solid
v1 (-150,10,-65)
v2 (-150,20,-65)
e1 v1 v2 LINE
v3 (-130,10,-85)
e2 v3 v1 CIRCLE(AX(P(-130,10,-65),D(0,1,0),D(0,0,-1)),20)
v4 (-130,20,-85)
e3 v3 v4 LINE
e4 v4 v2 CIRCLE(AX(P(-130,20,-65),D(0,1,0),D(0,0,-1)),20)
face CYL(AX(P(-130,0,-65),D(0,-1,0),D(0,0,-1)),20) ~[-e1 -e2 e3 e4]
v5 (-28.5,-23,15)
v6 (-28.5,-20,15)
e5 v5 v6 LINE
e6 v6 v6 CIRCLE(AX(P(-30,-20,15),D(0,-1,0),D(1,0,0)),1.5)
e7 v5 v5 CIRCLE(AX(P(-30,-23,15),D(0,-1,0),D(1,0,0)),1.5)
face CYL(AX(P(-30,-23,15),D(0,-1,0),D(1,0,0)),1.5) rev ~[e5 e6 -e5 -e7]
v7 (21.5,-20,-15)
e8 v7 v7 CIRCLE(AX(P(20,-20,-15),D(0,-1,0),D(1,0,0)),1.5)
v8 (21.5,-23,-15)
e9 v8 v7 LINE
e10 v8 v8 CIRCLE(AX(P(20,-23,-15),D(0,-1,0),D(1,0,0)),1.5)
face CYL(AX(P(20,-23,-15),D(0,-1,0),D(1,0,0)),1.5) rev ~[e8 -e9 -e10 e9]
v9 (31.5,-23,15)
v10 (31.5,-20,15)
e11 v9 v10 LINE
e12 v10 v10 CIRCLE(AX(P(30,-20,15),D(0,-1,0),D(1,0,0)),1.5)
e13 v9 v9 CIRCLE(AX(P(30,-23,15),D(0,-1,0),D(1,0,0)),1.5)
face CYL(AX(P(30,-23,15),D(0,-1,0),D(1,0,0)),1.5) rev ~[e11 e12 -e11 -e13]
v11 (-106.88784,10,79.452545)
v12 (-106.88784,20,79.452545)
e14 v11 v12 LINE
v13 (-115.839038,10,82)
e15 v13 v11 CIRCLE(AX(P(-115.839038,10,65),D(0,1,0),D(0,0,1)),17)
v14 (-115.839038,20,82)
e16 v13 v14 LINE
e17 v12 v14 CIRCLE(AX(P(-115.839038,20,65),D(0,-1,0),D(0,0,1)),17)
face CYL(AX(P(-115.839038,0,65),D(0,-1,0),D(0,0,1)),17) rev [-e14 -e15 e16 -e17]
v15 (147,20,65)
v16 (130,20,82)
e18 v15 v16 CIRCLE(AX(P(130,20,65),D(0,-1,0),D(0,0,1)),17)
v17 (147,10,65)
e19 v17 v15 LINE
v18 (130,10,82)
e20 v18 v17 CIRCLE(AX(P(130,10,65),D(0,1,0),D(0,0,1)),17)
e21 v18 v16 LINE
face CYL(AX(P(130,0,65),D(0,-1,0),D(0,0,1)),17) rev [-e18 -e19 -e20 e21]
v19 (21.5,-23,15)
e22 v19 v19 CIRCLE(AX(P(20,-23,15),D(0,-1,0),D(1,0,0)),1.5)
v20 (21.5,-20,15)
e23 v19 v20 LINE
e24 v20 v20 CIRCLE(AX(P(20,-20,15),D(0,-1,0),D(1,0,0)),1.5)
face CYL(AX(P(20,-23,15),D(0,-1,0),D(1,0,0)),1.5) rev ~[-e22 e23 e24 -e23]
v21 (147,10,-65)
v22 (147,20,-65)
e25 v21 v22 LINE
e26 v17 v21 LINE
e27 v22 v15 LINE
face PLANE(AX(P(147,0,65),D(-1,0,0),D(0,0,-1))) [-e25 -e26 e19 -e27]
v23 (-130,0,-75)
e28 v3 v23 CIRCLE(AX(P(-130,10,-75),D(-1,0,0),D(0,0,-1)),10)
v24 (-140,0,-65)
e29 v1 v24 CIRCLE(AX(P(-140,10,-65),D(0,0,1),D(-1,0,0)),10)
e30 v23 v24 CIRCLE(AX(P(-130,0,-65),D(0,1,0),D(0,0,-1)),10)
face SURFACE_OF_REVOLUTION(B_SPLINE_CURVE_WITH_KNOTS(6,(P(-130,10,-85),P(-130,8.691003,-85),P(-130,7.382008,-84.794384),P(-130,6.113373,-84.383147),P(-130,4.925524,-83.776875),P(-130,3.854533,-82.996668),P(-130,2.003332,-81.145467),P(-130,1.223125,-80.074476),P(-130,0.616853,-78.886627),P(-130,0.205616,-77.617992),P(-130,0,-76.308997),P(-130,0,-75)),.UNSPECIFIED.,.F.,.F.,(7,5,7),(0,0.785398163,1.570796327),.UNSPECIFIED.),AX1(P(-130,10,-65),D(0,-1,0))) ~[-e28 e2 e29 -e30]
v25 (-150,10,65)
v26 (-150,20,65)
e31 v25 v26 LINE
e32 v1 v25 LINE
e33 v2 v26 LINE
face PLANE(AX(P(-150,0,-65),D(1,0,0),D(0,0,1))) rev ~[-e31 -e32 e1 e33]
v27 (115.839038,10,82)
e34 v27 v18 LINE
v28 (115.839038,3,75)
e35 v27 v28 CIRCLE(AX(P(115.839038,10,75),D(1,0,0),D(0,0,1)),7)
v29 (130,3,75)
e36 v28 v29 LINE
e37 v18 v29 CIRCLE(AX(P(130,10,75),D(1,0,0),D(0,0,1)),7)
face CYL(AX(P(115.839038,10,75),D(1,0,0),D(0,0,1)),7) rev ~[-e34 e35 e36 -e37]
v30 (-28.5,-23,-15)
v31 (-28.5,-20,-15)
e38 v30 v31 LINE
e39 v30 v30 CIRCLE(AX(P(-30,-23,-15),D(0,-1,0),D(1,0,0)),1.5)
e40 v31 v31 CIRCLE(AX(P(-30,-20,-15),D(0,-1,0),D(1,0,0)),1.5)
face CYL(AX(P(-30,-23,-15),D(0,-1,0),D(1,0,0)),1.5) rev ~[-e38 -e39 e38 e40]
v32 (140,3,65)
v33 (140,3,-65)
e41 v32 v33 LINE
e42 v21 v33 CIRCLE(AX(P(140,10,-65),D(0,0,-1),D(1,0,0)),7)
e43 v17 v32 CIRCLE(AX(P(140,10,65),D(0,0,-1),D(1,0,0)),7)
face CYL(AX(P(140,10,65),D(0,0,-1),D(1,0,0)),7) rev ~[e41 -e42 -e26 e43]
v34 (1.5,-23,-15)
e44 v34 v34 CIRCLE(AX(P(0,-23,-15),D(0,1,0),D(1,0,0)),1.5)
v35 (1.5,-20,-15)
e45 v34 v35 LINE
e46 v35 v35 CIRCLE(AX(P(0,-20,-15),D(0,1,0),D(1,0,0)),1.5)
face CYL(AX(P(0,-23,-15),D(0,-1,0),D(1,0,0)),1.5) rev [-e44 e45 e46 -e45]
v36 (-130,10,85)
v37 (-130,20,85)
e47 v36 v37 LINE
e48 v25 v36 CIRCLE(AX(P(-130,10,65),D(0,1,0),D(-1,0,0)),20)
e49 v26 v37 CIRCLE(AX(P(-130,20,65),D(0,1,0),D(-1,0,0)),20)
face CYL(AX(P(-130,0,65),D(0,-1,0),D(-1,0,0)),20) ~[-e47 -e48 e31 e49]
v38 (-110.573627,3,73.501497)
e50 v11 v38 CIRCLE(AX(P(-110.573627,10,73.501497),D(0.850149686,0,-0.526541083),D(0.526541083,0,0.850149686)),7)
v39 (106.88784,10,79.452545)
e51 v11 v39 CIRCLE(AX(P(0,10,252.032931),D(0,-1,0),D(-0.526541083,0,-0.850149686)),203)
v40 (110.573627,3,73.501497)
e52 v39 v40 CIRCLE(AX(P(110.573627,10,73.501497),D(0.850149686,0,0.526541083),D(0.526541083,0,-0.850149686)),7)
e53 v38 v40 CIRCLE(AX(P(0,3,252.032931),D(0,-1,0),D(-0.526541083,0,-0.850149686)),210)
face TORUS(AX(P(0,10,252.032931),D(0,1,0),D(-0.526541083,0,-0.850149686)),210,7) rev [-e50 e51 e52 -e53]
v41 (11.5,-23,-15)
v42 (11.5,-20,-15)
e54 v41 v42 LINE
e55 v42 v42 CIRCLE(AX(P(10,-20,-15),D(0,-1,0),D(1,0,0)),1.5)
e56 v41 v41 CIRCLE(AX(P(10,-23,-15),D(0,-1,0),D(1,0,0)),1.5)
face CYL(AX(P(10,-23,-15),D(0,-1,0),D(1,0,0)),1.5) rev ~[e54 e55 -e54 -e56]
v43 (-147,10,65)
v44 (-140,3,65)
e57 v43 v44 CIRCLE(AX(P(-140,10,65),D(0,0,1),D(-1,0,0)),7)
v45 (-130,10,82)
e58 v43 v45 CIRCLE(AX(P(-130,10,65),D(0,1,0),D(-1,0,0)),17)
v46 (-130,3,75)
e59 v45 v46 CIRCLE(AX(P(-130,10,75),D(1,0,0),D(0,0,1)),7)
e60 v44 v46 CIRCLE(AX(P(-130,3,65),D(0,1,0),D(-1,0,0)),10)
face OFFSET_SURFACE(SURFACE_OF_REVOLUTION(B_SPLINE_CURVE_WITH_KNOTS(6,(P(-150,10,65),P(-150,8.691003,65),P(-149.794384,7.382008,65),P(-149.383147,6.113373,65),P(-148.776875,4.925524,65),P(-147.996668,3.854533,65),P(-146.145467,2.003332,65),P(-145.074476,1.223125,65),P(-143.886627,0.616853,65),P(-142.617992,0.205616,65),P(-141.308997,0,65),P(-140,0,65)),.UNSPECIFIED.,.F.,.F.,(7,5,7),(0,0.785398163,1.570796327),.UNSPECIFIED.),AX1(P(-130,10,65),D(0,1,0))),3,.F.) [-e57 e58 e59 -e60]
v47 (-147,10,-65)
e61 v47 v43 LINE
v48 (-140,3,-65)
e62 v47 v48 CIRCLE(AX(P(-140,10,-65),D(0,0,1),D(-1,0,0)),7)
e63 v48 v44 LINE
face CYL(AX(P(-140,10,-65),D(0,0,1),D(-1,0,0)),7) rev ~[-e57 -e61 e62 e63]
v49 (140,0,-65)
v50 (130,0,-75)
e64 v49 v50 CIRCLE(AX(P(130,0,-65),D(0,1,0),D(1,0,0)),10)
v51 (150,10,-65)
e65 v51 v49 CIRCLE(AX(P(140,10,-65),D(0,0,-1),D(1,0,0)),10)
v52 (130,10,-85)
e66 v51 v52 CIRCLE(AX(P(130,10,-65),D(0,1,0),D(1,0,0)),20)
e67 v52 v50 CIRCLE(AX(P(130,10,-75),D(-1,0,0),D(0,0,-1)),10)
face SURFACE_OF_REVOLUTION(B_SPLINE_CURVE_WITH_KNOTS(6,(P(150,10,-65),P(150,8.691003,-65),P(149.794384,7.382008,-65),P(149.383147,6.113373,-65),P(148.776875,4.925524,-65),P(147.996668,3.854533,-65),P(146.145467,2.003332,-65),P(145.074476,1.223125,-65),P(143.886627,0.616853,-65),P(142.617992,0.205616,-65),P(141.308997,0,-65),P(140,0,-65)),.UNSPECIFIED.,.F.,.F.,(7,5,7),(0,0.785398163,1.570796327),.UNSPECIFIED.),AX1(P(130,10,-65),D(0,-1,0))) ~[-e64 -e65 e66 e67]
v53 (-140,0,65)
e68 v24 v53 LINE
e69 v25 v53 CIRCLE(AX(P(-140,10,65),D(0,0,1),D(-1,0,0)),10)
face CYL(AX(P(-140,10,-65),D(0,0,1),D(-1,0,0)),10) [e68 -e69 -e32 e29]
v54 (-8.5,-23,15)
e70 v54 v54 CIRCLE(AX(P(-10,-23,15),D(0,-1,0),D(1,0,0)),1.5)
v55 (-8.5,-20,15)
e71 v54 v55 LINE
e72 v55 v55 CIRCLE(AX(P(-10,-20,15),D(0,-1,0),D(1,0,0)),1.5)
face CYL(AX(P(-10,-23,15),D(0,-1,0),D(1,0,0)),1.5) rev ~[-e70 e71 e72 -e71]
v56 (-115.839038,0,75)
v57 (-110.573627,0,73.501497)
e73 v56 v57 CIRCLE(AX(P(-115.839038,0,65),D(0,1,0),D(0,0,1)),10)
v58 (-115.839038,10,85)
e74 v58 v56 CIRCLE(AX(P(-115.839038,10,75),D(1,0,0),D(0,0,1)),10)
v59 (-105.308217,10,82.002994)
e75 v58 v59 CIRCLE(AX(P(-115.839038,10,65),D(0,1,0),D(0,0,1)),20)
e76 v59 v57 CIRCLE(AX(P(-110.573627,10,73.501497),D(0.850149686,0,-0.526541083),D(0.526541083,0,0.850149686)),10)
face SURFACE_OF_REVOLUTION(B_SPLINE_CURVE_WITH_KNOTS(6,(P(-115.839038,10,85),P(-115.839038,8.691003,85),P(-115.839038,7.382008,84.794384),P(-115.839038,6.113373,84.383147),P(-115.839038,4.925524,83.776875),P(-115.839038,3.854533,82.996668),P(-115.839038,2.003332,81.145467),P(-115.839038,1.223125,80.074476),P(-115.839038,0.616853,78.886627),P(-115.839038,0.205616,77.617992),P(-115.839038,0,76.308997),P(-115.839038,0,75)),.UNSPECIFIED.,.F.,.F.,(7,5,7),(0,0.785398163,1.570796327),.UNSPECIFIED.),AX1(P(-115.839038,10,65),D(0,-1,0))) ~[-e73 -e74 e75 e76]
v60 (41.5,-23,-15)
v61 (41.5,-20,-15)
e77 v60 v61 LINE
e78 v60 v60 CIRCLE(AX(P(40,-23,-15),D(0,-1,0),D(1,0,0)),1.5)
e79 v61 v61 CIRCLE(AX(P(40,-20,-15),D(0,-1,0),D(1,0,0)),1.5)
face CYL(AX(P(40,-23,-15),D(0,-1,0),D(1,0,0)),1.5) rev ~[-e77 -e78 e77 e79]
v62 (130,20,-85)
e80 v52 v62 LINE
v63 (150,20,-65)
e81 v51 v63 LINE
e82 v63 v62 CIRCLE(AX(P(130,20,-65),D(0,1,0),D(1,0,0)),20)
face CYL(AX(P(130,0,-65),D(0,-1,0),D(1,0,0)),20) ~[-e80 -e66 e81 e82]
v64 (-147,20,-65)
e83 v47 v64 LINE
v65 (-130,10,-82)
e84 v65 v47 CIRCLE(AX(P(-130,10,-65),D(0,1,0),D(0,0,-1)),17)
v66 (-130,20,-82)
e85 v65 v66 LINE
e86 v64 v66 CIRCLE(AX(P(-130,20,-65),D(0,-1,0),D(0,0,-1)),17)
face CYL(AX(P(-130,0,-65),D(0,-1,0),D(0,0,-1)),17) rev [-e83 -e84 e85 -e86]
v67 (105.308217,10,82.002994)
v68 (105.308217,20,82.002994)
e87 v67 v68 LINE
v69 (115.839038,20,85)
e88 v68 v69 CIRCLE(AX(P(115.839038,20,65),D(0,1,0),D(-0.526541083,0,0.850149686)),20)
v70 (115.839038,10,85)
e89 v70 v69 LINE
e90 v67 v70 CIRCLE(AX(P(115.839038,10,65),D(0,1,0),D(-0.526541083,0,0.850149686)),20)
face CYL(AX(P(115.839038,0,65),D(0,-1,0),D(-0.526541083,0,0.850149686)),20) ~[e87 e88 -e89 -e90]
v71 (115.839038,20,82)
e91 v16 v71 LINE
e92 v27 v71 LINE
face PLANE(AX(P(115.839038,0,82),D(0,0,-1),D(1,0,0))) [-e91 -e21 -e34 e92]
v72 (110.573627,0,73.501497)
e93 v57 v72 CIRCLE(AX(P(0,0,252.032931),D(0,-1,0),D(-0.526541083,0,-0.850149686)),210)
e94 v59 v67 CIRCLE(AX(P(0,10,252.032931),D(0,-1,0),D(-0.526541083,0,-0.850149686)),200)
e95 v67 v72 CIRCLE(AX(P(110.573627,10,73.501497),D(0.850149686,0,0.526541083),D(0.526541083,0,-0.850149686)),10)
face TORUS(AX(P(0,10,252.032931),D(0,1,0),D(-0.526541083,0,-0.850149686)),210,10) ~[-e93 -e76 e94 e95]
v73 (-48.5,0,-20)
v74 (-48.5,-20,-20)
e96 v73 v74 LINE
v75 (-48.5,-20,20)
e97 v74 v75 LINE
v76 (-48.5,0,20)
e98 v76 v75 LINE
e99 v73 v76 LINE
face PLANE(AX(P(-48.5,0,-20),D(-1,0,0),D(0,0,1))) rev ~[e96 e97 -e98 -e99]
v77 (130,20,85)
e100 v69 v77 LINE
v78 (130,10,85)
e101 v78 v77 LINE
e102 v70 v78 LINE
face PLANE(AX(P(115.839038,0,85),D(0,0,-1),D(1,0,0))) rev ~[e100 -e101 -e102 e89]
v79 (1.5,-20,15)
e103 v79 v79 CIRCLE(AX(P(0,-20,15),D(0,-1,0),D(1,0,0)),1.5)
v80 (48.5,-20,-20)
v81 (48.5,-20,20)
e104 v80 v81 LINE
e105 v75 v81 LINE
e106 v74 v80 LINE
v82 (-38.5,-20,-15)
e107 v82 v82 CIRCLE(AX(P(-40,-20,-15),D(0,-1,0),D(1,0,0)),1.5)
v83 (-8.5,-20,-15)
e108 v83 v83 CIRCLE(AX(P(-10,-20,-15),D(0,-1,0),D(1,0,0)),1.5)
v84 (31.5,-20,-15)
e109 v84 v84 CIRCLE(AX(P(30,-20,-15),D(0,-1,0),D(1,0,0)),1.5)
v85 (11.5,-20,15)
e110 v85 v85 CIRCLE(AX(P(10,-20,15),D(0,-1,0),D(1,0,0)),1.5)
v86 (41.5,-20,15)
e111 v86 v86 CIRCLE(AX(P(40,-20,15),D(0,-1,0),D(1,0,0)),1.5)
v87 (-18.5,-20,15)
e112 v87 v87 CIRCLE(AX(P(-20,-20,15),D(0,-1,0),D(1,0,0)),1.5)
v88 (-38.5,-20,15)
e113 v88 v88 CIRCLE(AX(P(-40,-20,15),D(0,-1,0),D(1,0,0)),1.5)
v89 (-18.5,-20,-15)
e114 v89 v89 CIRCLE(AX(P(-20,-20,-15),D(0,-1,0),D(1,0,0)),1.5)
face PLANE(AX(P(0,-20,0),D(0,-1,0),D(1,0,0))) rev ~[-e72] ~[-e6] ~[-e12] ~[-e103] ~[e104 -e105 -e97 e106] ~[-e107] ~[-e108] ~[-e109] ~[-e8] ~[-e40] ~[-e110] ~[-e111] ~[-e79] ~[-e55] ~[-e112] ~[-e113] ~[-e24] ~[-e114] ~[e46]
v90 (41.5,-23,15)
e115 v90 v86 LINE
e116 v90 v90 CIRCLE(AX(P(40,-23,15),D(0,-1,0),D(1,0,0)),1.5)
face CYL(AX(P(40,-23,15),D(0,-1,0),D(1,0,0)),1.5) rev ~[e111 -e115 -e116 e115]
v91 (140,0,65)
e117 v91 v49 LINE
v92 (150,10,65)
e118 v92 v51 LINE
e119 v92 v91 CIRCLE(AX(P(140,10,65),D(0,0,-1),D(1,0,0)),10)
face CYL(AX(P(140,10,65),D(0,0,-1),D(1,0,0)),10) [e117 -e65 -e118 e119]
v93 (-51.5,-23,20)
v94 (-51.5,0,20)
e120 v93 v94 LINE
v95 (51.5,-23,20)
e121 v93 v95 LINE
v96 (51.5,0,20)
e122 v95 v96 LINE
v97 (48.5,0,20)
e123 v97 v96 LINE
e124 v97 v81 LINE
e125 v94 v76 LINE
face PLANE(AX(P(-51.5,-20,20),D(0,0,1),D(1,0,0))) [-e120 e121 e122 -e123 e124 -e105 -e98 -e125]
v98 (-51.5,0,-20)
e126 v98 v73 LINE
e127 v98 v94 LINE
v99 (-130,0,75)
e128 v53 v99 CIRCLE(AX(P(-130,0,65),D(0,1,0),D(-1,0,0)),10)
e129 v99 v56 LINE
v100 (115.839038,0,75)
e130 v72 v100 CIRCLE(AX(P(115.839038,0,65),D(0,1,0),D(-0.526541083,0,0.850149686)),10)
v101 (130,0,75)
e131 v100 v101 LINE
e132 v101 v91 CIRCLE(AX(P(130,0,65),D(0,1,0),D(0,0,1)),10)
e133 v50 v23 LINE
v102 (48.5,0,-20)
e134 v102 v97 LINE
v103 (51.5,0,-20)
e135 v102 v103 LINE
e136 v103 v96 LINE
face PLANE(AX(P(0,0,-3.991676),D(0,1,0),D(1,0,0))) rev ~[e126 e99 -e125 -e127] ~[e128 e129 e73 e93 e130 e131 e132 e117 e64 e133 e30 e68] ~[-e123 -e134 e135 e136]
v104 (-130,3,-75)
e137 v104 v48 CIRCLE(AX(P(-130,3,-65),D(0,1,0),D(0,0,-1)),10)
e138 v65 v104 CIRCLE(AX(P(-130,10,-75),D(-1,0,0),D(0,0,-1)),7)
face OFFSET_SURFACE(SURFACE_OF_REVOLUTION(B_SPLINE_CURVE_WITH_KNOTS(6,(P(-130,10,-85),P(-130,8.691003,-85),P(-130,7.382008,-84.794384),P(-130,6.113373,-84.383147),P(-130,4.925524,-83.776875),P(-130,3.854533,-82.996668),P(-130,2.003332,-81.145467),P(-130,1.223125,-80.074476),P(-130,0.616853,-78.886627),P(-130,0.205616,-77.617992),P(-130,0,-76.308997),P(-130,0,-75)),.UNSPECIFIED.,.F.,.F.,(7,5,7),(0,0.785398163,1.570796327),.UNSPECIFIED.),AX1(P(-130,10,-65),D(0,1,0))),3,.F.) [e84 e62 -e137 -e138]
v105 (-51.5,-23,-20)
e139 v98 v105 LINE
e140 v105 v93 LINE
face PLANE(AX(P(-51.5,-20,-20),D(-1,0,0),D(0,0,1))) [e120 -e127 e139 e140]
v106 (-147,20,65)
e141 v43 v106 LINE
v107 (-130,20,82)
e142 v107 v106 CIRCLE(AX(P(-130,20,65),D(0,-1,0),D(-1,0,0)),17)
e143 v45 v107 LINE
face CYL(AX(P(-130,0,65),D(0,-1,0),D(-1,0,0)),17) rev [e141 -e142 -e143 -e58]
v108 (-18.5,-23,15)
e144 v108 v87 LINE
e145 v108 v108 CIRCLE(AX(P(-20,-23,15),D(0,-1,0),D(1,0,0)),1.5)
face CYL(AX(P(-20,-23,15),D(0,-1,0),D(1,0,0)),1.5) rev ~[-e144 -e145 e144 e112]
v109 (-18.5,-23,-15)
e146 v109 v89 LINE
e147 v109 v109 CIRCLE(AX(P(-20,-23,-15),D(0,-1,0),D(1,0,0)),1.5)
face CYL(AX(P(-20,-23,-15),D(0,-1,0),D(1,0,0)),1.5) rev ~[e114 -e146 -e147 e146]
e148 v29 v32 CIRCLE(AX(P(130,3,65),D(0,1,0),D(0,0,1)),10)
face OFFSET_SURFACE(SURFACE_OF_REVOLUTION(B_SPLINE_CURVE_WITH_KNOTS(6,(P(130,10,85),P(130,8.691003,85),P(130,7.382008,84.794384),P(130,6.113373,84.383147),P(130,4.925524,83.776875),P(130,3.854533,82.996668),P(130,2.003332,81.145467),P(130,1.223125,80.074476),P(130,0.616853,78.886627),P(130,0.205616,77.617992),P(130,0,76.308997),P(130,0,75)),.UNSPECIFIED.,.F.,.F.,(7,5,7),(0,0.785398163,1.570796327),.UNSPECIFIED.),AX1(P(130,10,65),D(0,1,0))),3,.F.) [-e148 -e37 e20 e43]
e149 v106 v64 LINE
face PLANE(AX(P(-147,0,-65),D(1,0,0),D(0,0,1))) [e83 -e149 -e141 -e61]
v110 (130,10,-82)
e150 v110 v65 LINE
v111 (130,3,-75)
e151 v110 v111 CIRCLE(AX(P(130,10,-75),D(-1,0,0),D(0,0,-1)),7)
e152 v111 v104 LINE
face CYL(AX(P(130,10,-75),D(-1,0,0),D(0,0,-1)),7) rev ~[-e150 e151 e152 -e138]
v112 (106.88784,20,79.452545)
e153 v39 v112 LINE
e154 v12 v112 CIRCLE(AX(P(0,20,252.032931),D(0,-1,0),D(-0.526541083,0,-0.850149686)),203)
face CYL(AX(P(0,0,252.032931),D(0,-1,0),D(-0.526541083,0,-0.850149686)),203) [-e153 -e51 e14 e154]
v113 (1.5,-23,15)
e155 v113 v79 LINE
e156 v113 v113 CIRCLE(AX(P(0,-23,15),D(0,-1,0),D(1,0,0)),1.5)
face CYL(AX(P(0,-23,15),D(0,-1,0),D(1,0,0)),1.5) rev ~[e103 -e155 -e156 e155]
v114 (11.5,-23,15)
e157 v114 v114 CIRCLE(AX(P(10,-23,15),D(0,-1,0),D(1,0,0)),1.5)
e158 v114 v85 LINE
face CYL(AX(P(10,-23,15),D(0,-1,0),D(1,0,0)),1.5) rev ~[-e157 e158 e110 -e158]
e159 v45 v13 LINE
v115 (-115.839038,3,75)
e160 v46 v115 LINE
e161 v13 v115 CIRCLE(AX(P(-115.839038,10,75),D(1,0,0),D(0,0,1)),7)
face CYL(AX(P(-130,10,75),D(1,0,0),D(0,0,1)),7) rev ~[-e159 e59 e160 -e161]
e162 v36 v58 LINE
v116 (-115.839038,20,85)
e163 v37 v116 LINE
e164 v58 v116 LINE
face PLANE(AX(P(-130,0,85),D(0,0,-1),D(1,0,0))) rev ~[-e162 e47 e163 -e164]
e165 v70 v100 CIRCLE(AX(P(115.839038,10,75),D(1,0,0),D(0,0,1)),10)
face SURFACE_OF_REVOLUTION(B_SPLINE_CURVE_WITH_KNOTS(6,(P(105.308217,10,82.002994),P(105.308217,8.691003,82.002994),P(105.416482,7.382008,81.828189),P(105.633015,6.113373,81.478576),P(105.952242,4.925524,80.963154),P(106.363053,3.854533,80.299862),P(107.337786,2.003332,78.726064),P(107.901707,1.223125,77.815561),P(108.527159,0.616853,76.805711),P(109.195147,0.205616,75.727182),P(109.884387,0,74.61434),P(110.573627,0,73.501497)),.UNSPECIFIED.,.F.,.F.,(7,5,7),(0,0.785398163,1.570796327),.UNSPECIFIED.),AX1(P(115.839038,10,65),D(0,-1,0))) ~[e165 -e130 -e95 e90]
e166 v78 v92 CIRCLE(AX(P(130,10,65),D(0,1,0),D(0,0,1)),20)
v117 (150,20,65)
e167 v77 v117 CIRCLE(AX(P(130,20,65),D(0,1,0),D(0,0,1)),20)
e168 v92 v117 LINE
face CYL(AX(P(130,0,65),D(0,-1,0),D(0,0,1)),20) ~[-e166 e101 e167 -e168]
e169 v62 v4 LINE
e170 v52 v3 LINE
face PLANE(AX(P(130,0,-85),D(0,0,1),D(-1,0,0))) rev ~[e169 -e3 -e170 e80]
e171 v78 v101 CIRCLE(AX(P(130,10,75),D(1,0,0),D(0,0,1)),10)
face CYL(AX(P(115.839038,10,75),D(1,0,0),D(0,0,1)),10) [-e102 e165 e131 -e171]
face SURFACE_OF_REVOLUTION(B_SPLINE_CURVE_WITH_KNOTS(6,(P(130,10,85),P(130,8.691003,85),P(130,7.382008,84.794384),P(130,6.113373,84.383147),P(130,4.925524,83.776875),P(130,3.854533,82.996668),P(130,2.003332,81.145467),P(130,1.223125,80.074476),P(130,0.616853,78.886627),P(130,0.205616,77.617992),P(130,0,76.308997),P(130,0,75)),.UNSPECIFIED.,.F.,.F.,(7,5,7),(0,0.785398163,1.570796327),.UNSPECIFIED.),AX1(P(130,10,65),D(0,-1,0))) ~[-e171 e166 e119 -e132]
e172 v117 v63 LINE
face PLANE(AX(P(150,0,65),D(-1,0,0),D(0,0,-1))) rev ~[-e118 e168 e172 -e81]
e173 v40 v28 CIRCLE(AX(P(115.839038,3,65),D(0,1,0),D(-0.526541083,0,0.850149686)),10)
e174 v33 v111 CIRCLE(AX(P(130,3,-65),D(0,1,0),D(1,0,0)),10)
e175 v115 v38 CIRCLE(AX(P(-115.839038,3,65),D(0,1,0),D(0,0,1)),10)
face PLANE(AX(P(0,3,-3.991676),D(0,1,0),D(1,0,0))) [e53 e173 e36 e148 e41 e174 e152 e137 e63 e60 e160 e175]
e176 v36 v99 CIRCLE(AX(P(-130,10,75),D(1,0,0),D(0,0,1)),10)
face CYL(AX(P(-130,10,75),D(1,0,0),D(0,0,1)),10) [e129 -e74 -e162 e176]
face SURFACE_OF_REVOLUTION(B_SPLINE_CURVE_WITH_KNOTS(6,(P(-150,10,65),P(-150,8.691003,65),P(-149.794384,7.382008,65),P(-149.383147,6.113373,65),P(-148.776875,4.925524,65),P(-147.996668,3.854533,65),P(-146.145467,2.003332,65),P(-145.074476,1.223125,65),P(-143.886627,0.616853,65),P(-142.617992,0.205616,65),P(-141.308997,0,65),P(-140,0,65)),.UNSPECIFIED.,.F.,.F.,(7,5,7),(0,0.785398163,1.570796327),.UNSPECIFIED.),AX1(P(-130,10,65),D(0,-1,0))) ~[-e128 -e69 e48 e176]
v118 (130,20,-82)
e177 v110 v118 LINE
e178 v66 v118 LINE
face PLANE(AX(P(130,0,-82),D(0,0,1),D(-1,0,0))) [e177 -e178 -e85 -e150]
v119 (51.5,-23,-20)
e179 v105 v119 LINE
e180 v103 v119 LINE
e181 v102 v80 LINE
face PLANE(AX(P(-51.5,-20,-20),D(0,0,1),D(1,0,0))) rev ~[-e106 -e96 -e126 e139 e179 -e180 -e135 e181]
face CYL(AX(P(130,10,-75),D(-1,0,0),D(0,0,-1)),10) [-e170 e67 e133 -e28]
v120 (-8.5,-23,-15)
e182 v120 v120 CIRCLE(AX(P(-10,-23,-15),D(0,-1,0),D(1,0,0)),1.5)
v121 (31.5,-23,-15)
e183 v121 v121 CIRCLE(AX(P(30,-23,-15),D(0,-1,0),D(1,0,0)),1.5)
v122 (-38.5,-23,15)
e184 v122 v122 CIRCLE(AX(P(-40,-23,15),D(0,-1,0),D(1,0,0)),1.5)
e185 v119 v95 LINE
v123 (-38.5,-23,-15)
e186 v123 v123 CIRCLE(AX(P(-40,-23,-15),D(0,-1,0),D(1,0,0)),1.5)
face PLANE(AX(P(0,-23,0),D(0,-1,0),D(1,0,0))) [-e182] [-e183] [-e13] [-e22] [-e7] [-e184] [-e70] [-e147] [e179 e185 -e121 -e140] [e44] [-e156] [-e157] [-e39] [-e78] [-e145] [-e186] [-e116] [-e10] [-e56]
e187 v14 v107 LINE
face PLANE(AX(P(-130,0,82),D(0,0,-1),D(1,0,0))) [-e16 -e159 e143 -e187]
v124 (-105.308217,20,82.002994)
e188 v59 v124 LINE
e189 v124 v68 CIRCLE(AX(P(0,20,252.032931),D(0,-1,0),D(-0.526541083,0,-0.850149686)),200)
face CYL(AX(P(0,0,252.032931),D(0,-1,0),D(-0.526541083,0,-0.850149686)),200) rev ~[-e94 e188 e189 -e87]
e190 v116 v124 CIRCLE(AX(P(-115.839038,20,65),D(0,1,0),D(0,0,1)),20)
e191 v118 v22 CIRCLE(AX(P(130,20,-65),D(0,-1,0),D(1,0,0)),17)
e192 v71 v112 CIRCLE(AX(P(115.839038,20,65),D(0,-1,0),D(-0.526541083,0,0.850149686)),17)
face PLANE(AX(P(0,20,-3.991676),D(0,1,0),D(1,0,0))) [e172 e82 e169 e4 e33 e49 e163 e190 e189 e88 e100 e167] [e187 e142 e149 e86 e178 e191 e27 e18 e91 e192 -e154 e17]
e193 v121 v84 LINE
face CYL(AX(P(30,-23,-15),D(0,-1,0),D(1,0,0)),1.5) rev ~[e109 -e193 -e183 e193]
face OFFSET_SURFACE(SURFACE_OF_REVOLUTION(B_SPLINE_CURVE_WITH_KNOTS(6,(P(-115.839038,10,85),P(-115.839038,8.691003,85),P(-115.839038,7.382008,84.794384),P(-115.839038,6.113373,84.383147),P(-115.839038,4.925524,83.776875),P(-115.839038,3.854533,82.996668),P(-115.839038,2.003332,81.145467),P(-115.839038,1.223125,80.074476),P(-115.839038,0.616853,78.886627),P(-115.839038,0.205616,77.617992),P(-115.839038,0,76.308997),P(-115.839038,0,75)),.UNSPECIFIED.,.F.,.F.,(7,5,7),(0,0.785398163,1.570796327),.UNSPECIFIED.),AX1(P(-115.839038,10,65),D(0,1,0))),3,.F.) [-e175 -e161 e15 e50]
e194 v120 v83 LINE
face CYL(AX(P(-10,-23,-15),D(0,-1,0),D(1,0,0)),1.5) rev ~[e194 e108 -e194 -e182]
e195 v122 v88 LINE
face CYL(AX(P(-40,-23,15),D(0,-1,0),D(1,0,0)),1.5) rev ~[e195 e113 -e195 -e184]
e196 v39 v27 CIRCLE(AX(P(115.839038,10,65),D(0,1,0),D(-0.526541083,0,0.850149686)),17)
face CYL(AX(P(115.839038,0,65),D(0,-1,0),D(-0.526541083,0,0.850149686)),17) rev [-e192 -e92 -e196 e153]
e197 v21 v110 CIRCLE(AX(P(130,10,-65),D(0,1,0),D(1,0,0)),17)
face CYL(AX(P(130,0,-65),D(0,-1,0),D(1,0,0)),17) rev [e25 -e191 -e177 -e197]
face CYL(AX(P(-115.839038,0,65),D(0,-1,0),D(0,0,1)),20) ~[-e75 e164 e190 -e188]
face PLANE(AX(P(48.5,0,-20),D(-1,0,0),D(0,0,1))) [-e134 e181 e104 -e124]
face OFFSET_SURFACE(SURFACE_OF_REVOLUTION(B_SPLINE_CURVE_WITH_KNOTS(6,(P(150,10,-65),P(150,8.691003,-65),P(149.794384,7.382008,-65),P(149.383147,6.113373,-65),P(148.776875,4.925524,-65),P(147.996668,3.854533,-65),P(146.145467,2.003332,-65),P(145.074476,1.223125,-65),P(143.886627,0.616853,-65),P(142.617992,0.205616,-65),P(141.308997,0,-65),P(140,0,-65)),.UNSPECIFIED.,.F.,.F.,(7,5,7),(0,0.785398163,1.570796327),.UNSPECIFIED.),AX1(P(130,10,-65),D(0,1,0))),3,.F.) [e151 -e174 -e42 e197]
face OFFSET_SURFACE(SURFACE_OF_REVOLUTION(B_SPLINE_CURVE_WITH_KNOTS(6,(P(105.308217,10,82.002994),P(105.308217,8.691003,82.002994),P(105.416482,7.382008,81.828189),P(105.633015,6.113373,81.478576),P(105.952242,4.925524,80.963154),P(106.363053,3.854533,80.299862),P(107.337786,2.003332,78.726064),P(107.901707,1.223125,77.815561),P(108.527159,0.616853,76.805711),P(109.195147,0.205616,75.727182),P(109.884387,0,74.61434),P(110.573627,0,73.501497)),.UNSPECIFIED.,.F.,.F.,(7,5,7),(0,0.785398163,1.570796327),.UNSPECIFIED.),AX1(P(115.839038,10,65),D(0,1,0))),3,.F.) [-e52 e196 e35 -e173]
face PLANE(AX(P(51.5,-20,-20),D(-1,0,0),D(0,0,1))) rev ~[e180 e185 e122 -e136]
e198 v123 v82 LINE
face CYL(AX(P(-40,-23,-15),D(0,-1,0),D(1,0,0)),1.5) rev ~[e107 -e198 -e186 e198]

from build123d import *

# Parameters (mm, degrees)
BOSS_EXTRUDE1_DEPTH     = 20
FILLET1_R               = 10
SHELL1_T                = -3
SKETCH2_W               = 3
SKETCH2_H               = 40
BOSS_EXTRUDE2_DEPTH     = 20
SKETCH3_W               = 103
SKETCH3_H               = 40
BOSS_EXTRUDE3_DEPTH     = 3
SKETCH4_R               = 1.5
CUT_EXTRUDE1_DEPTH      = 3
LPATTERN1_COUNT         = 5
LPATTERN1_PITCH         = 10
LPATTERN1_COL_COUNT     = 5
LPATTERN1_COL_PITCH     = 10
MIRROR1_COPY_1_SKETCH_R = 1.5
MIRROR1_COPY_1_DEPTH    = 3
MIRROR1_COPY_2_SKETCH_R = 1.5
MIRROR1_COPY_2_DEPTH    = 3
MIRROR1_COPY_3_SKETCH_R = 1.5
MIRROR1_COPY_3_DEPTH    = 3
MIRROR1_COPY_4_SKETCH_R = 1.5
MIRROR1_COPY_4_DEPTH    = 3
MIRROR1_COPY_5_SKETCH_R = 1.5
MIRROR1_COPY_5_DEPTH    = 3
MIRROR1_COPY_6_SKETCH_R = 1.5
MIRROR1_COPY_6_DEPTH    = 3
MIRROR1_COPY_7_SKETCH_R = 1.5
MIRROR1_COPY_7_DEPTH    = 3
MIRROR1_COPY_8_SKETCH_R = 1.5
MIRROR1_COPY_8_DEPTH    = 3


with BuildPart() as part:
    # Sketch1 → Boss-Extrude1 (new body)
    with BuildSketch(Plane(origin=(0, 0, 0), x_dir=(1, 0, 0), z_dir=(0, 1, 0))):
        with BuildLine():
            Line((115.839038172, -85), (130, -85))
            ThreePointArc((130, -85), (144.142135624, -79.142135624), (150, -65))
            Line((150, -65), (150, 65))
            ThreePointArc((150, 65), (144.142135624, 79.142135624), (130, 85))
            Line((130, 85), (-130, 85))
            ThreePointArc((-130, 85), (-144.142135624, 79.142135624), (-150, 65))
            Line((-150, 65), (-150, -65))
            ThreePointArc((-150, -65), (-144.142135624, -79.142135624), (-130, -85))
            Line((-130, -85), (-115.839038172, -85))
            ThreePointArc((-115.839038172, -85), (-110.364546156, -84.236162226), (-105.30821652, -82.002993717))
            ThreePointArc((-105.30821652, -82.002993717), (0, -52.032930885), (105.30821652, -82.002993717))
            ThreePointArc((105.30821652, -82.002993717), (110.364546156, -84.236162226), (115.839038172, -85))
        make_face()
    extrude(amount=BOSS_EXTRUDE1_DEPTH)

    # Fillet1
    fillet1_edges = [part.edges().sort_by_distance(p)[0] for p in [
        (-150, 0, 0),
        (-144.142135624, 0, -79.142135624),
        (0, 0, -85),
        (144.142135624, 0, -79.142135624),
        (150, 0, 0),
        (144.142135624, 0, 79.142135624),
        (122.919519086, 0, 85),
        (110.364546156, 0, 84.236162226),
        (0, 0, 52.032930885),
        (-110.364546156, 0, 84.236162226),
        (-122.919519086, 0, 85),
        (-144.142135624, 0, 79.142135624),
    ]]
    fillet(fillet1_edges, radius=FILLET1_R)

    # Shell1
    shell1_openings = [part.faces().sort_by_distance(p)[0] for p in [
        (0, 20, 25.458771278),
    ]]
    offset(amount=SHELL1_T, openings=shell1_openings, kind=Kind.INTERSECTION)

    # Sketch2 → Boss-Extrude2 (add)
    with BuildSketch(Plane.XZ):
        with Locations((50, 0)):
            Rectangle(SKETCH2_W, SKETCH2_H)
        with Locations((-50, 0)):
            Rectangle(SKETCH2_W, SKETCH2_H)
    extrude(amount=BOSS_EXTRUDE2_DEPTH)

    # Sketch3 → Boss-Extrude3 (add)
    with BuildSketch(Plane.XZ.offset(20)):
        Rectangle(SKETCH3_W, SKETCH3_H)
    extrude(amount=BOSS_EXTRUDE3_DEPTH)

    # Sketch4 → Cut-Extrude1 (cut)
    with BuildSketch(Plane.XZ.offset(23)):
        with Locations((0, 15)):
            Circle(SKETCH4_R)
    cut_extrude1 = extrude(amount=-CUT_EXTRUDE1_DEPTH, mode=Mode.SUBTRACT)

    # LPattern1: Cut-Extrude1 ×5
    with Locations(*[(i * LPATTERN1_PITCH, 0, 0) for i in range(1, LPATTERN1_COUNT)]):
        add(cut_extrude1, mode=Mode.SUBTRACT)

    # LPattern1 col: Cut-Extrude1 ×5
    with Locations(*[(-i * LPATTERN1_COL_PITCH, 0, 0) for i in range(1, LPATTERN1_COL_COUNT)]):
        add(cut_extrude1, mode=Mode.SUBTRACT)

    # Mirror1: Cut-Extrude1 across plane
    add(cut_extrude1.mirror(Plane.XY), mode=Mode.SUBTRACT)

    # Mirror1 copy 1 sketch → Mirror1 copy 1 (cut)
    with BuildSketch(Plane(origin=(10, -23, 0), x_dir=(1, 0, 0), z_dir=(0, -1, 0))):
        with Locations((0, -15)):
            Circle(MIRROR1_COPY_1_SKETCH_R)
    extrude(amount=-MIRROR1_COPY_1_DEPTH, mode=Mode.SUBTRACT)

    # Mirror1 copy 2 sketch → Mirror1 copy 2 (cut)
    with BuildSketch(Plane(origin=(20, -23, 0), x_dir=(1, 0, 0), z_dir=(0, -1, 0))):
        with Locations((0, -15)):
            Circle(MIRROR1_COPY_2_SKETCH_R)
    extrude(amount=-MIRROR1_COPY_2_DEPTH, mode=Mode.SUBTRACT)

    # Mirror1 copy 3 sketch → Mirror1 copy 3 (cut)
    with BuildSketch(Plane(origin=(30, -23, 0), x_dir=(1, 0, 0), z_dir=(0, -1, 0))):
        with Locations((0, -15)):
            Circle(MIRROR1_COPY_3_SKETCH_R)
    extrude(amount=-MIRROR1_COPY_3_DEPTH, mode=Mode.SUBTRACT)

    # Mirror1 copy 4 sketch → Mirror1 copy 4 (cut)
    with BuildSketch(Plane(origin=(40, -23, 0), x_dir=(1, 0, 0), z_dir=(0, -1, 0))):
        with Locations((0, -15)):
            Circle(MIRROR1_COPY_4_SKETCH_R)
    extrude(amount=-MIRROR1_COPY_4_DEPTH, mode=Mode.SUBTRACT)

    # Mirror1 copy 5 sketch → Mirror1 copy 5 (cut)
    with BuildSketch(Plane(origin=(-10, -23, 0), x_dir=(1, 0, 0), z_dir=(0, -1, 0))):
        with Locations((0, -15)):
            Circle(MIRROR1_COPY_5_SKETCH_R)
    extrude(amount=-MIRROR1_COPY_5_DEPTH, mode=Mode.SUBTRACT)

    # Mirror1 copy 6 sketch → Mirror1 copy 6 (cut)
    with BuildSketch(Plane(origin=(-20, -23, 0), x_dir=(1, 0, 0), z_dir=(0, -1, 0))):
        with Locations((0, -15)):
            Circle(MIRROR1_COPY_6_SKETCH_R)
    extrude(amount=-MIRROR1_COPY_6_DEPTH, mode=Mode.SUBTRACT)

    # Mirror1 copy 7 sketch → Mirror1 copy 7 (cut)
    with BuildSketch(Plane(origin=(-30, -23, 0), x_dir=(1, 0, 0), z_dir=(0, -1, 0))):
        with Locations((0, -15)):
            Circle(MIRROR1_COPY_7_SKETCH_R)
    extrude(amount=-MIRROR1_COPY_7_DEPTH, mode=Mode.SUBTRACT)

    # Mirror1 copy 8 sketch → Mirror1 copy 8 (cut)
    with BuildSketch(Plane(origin=(-40, -23, 0), x_dir=(1, 0, 0), z_dir=(0, -1, 0))):
        with Locations((0, -15)):
            Circle(MIRROR1_COPY_8_SKETCH_R)
    extrude(amount=-MIRROR1_COPY_8_DEPTH, mode=Mode.SUBTRACT)


solid = part.part
